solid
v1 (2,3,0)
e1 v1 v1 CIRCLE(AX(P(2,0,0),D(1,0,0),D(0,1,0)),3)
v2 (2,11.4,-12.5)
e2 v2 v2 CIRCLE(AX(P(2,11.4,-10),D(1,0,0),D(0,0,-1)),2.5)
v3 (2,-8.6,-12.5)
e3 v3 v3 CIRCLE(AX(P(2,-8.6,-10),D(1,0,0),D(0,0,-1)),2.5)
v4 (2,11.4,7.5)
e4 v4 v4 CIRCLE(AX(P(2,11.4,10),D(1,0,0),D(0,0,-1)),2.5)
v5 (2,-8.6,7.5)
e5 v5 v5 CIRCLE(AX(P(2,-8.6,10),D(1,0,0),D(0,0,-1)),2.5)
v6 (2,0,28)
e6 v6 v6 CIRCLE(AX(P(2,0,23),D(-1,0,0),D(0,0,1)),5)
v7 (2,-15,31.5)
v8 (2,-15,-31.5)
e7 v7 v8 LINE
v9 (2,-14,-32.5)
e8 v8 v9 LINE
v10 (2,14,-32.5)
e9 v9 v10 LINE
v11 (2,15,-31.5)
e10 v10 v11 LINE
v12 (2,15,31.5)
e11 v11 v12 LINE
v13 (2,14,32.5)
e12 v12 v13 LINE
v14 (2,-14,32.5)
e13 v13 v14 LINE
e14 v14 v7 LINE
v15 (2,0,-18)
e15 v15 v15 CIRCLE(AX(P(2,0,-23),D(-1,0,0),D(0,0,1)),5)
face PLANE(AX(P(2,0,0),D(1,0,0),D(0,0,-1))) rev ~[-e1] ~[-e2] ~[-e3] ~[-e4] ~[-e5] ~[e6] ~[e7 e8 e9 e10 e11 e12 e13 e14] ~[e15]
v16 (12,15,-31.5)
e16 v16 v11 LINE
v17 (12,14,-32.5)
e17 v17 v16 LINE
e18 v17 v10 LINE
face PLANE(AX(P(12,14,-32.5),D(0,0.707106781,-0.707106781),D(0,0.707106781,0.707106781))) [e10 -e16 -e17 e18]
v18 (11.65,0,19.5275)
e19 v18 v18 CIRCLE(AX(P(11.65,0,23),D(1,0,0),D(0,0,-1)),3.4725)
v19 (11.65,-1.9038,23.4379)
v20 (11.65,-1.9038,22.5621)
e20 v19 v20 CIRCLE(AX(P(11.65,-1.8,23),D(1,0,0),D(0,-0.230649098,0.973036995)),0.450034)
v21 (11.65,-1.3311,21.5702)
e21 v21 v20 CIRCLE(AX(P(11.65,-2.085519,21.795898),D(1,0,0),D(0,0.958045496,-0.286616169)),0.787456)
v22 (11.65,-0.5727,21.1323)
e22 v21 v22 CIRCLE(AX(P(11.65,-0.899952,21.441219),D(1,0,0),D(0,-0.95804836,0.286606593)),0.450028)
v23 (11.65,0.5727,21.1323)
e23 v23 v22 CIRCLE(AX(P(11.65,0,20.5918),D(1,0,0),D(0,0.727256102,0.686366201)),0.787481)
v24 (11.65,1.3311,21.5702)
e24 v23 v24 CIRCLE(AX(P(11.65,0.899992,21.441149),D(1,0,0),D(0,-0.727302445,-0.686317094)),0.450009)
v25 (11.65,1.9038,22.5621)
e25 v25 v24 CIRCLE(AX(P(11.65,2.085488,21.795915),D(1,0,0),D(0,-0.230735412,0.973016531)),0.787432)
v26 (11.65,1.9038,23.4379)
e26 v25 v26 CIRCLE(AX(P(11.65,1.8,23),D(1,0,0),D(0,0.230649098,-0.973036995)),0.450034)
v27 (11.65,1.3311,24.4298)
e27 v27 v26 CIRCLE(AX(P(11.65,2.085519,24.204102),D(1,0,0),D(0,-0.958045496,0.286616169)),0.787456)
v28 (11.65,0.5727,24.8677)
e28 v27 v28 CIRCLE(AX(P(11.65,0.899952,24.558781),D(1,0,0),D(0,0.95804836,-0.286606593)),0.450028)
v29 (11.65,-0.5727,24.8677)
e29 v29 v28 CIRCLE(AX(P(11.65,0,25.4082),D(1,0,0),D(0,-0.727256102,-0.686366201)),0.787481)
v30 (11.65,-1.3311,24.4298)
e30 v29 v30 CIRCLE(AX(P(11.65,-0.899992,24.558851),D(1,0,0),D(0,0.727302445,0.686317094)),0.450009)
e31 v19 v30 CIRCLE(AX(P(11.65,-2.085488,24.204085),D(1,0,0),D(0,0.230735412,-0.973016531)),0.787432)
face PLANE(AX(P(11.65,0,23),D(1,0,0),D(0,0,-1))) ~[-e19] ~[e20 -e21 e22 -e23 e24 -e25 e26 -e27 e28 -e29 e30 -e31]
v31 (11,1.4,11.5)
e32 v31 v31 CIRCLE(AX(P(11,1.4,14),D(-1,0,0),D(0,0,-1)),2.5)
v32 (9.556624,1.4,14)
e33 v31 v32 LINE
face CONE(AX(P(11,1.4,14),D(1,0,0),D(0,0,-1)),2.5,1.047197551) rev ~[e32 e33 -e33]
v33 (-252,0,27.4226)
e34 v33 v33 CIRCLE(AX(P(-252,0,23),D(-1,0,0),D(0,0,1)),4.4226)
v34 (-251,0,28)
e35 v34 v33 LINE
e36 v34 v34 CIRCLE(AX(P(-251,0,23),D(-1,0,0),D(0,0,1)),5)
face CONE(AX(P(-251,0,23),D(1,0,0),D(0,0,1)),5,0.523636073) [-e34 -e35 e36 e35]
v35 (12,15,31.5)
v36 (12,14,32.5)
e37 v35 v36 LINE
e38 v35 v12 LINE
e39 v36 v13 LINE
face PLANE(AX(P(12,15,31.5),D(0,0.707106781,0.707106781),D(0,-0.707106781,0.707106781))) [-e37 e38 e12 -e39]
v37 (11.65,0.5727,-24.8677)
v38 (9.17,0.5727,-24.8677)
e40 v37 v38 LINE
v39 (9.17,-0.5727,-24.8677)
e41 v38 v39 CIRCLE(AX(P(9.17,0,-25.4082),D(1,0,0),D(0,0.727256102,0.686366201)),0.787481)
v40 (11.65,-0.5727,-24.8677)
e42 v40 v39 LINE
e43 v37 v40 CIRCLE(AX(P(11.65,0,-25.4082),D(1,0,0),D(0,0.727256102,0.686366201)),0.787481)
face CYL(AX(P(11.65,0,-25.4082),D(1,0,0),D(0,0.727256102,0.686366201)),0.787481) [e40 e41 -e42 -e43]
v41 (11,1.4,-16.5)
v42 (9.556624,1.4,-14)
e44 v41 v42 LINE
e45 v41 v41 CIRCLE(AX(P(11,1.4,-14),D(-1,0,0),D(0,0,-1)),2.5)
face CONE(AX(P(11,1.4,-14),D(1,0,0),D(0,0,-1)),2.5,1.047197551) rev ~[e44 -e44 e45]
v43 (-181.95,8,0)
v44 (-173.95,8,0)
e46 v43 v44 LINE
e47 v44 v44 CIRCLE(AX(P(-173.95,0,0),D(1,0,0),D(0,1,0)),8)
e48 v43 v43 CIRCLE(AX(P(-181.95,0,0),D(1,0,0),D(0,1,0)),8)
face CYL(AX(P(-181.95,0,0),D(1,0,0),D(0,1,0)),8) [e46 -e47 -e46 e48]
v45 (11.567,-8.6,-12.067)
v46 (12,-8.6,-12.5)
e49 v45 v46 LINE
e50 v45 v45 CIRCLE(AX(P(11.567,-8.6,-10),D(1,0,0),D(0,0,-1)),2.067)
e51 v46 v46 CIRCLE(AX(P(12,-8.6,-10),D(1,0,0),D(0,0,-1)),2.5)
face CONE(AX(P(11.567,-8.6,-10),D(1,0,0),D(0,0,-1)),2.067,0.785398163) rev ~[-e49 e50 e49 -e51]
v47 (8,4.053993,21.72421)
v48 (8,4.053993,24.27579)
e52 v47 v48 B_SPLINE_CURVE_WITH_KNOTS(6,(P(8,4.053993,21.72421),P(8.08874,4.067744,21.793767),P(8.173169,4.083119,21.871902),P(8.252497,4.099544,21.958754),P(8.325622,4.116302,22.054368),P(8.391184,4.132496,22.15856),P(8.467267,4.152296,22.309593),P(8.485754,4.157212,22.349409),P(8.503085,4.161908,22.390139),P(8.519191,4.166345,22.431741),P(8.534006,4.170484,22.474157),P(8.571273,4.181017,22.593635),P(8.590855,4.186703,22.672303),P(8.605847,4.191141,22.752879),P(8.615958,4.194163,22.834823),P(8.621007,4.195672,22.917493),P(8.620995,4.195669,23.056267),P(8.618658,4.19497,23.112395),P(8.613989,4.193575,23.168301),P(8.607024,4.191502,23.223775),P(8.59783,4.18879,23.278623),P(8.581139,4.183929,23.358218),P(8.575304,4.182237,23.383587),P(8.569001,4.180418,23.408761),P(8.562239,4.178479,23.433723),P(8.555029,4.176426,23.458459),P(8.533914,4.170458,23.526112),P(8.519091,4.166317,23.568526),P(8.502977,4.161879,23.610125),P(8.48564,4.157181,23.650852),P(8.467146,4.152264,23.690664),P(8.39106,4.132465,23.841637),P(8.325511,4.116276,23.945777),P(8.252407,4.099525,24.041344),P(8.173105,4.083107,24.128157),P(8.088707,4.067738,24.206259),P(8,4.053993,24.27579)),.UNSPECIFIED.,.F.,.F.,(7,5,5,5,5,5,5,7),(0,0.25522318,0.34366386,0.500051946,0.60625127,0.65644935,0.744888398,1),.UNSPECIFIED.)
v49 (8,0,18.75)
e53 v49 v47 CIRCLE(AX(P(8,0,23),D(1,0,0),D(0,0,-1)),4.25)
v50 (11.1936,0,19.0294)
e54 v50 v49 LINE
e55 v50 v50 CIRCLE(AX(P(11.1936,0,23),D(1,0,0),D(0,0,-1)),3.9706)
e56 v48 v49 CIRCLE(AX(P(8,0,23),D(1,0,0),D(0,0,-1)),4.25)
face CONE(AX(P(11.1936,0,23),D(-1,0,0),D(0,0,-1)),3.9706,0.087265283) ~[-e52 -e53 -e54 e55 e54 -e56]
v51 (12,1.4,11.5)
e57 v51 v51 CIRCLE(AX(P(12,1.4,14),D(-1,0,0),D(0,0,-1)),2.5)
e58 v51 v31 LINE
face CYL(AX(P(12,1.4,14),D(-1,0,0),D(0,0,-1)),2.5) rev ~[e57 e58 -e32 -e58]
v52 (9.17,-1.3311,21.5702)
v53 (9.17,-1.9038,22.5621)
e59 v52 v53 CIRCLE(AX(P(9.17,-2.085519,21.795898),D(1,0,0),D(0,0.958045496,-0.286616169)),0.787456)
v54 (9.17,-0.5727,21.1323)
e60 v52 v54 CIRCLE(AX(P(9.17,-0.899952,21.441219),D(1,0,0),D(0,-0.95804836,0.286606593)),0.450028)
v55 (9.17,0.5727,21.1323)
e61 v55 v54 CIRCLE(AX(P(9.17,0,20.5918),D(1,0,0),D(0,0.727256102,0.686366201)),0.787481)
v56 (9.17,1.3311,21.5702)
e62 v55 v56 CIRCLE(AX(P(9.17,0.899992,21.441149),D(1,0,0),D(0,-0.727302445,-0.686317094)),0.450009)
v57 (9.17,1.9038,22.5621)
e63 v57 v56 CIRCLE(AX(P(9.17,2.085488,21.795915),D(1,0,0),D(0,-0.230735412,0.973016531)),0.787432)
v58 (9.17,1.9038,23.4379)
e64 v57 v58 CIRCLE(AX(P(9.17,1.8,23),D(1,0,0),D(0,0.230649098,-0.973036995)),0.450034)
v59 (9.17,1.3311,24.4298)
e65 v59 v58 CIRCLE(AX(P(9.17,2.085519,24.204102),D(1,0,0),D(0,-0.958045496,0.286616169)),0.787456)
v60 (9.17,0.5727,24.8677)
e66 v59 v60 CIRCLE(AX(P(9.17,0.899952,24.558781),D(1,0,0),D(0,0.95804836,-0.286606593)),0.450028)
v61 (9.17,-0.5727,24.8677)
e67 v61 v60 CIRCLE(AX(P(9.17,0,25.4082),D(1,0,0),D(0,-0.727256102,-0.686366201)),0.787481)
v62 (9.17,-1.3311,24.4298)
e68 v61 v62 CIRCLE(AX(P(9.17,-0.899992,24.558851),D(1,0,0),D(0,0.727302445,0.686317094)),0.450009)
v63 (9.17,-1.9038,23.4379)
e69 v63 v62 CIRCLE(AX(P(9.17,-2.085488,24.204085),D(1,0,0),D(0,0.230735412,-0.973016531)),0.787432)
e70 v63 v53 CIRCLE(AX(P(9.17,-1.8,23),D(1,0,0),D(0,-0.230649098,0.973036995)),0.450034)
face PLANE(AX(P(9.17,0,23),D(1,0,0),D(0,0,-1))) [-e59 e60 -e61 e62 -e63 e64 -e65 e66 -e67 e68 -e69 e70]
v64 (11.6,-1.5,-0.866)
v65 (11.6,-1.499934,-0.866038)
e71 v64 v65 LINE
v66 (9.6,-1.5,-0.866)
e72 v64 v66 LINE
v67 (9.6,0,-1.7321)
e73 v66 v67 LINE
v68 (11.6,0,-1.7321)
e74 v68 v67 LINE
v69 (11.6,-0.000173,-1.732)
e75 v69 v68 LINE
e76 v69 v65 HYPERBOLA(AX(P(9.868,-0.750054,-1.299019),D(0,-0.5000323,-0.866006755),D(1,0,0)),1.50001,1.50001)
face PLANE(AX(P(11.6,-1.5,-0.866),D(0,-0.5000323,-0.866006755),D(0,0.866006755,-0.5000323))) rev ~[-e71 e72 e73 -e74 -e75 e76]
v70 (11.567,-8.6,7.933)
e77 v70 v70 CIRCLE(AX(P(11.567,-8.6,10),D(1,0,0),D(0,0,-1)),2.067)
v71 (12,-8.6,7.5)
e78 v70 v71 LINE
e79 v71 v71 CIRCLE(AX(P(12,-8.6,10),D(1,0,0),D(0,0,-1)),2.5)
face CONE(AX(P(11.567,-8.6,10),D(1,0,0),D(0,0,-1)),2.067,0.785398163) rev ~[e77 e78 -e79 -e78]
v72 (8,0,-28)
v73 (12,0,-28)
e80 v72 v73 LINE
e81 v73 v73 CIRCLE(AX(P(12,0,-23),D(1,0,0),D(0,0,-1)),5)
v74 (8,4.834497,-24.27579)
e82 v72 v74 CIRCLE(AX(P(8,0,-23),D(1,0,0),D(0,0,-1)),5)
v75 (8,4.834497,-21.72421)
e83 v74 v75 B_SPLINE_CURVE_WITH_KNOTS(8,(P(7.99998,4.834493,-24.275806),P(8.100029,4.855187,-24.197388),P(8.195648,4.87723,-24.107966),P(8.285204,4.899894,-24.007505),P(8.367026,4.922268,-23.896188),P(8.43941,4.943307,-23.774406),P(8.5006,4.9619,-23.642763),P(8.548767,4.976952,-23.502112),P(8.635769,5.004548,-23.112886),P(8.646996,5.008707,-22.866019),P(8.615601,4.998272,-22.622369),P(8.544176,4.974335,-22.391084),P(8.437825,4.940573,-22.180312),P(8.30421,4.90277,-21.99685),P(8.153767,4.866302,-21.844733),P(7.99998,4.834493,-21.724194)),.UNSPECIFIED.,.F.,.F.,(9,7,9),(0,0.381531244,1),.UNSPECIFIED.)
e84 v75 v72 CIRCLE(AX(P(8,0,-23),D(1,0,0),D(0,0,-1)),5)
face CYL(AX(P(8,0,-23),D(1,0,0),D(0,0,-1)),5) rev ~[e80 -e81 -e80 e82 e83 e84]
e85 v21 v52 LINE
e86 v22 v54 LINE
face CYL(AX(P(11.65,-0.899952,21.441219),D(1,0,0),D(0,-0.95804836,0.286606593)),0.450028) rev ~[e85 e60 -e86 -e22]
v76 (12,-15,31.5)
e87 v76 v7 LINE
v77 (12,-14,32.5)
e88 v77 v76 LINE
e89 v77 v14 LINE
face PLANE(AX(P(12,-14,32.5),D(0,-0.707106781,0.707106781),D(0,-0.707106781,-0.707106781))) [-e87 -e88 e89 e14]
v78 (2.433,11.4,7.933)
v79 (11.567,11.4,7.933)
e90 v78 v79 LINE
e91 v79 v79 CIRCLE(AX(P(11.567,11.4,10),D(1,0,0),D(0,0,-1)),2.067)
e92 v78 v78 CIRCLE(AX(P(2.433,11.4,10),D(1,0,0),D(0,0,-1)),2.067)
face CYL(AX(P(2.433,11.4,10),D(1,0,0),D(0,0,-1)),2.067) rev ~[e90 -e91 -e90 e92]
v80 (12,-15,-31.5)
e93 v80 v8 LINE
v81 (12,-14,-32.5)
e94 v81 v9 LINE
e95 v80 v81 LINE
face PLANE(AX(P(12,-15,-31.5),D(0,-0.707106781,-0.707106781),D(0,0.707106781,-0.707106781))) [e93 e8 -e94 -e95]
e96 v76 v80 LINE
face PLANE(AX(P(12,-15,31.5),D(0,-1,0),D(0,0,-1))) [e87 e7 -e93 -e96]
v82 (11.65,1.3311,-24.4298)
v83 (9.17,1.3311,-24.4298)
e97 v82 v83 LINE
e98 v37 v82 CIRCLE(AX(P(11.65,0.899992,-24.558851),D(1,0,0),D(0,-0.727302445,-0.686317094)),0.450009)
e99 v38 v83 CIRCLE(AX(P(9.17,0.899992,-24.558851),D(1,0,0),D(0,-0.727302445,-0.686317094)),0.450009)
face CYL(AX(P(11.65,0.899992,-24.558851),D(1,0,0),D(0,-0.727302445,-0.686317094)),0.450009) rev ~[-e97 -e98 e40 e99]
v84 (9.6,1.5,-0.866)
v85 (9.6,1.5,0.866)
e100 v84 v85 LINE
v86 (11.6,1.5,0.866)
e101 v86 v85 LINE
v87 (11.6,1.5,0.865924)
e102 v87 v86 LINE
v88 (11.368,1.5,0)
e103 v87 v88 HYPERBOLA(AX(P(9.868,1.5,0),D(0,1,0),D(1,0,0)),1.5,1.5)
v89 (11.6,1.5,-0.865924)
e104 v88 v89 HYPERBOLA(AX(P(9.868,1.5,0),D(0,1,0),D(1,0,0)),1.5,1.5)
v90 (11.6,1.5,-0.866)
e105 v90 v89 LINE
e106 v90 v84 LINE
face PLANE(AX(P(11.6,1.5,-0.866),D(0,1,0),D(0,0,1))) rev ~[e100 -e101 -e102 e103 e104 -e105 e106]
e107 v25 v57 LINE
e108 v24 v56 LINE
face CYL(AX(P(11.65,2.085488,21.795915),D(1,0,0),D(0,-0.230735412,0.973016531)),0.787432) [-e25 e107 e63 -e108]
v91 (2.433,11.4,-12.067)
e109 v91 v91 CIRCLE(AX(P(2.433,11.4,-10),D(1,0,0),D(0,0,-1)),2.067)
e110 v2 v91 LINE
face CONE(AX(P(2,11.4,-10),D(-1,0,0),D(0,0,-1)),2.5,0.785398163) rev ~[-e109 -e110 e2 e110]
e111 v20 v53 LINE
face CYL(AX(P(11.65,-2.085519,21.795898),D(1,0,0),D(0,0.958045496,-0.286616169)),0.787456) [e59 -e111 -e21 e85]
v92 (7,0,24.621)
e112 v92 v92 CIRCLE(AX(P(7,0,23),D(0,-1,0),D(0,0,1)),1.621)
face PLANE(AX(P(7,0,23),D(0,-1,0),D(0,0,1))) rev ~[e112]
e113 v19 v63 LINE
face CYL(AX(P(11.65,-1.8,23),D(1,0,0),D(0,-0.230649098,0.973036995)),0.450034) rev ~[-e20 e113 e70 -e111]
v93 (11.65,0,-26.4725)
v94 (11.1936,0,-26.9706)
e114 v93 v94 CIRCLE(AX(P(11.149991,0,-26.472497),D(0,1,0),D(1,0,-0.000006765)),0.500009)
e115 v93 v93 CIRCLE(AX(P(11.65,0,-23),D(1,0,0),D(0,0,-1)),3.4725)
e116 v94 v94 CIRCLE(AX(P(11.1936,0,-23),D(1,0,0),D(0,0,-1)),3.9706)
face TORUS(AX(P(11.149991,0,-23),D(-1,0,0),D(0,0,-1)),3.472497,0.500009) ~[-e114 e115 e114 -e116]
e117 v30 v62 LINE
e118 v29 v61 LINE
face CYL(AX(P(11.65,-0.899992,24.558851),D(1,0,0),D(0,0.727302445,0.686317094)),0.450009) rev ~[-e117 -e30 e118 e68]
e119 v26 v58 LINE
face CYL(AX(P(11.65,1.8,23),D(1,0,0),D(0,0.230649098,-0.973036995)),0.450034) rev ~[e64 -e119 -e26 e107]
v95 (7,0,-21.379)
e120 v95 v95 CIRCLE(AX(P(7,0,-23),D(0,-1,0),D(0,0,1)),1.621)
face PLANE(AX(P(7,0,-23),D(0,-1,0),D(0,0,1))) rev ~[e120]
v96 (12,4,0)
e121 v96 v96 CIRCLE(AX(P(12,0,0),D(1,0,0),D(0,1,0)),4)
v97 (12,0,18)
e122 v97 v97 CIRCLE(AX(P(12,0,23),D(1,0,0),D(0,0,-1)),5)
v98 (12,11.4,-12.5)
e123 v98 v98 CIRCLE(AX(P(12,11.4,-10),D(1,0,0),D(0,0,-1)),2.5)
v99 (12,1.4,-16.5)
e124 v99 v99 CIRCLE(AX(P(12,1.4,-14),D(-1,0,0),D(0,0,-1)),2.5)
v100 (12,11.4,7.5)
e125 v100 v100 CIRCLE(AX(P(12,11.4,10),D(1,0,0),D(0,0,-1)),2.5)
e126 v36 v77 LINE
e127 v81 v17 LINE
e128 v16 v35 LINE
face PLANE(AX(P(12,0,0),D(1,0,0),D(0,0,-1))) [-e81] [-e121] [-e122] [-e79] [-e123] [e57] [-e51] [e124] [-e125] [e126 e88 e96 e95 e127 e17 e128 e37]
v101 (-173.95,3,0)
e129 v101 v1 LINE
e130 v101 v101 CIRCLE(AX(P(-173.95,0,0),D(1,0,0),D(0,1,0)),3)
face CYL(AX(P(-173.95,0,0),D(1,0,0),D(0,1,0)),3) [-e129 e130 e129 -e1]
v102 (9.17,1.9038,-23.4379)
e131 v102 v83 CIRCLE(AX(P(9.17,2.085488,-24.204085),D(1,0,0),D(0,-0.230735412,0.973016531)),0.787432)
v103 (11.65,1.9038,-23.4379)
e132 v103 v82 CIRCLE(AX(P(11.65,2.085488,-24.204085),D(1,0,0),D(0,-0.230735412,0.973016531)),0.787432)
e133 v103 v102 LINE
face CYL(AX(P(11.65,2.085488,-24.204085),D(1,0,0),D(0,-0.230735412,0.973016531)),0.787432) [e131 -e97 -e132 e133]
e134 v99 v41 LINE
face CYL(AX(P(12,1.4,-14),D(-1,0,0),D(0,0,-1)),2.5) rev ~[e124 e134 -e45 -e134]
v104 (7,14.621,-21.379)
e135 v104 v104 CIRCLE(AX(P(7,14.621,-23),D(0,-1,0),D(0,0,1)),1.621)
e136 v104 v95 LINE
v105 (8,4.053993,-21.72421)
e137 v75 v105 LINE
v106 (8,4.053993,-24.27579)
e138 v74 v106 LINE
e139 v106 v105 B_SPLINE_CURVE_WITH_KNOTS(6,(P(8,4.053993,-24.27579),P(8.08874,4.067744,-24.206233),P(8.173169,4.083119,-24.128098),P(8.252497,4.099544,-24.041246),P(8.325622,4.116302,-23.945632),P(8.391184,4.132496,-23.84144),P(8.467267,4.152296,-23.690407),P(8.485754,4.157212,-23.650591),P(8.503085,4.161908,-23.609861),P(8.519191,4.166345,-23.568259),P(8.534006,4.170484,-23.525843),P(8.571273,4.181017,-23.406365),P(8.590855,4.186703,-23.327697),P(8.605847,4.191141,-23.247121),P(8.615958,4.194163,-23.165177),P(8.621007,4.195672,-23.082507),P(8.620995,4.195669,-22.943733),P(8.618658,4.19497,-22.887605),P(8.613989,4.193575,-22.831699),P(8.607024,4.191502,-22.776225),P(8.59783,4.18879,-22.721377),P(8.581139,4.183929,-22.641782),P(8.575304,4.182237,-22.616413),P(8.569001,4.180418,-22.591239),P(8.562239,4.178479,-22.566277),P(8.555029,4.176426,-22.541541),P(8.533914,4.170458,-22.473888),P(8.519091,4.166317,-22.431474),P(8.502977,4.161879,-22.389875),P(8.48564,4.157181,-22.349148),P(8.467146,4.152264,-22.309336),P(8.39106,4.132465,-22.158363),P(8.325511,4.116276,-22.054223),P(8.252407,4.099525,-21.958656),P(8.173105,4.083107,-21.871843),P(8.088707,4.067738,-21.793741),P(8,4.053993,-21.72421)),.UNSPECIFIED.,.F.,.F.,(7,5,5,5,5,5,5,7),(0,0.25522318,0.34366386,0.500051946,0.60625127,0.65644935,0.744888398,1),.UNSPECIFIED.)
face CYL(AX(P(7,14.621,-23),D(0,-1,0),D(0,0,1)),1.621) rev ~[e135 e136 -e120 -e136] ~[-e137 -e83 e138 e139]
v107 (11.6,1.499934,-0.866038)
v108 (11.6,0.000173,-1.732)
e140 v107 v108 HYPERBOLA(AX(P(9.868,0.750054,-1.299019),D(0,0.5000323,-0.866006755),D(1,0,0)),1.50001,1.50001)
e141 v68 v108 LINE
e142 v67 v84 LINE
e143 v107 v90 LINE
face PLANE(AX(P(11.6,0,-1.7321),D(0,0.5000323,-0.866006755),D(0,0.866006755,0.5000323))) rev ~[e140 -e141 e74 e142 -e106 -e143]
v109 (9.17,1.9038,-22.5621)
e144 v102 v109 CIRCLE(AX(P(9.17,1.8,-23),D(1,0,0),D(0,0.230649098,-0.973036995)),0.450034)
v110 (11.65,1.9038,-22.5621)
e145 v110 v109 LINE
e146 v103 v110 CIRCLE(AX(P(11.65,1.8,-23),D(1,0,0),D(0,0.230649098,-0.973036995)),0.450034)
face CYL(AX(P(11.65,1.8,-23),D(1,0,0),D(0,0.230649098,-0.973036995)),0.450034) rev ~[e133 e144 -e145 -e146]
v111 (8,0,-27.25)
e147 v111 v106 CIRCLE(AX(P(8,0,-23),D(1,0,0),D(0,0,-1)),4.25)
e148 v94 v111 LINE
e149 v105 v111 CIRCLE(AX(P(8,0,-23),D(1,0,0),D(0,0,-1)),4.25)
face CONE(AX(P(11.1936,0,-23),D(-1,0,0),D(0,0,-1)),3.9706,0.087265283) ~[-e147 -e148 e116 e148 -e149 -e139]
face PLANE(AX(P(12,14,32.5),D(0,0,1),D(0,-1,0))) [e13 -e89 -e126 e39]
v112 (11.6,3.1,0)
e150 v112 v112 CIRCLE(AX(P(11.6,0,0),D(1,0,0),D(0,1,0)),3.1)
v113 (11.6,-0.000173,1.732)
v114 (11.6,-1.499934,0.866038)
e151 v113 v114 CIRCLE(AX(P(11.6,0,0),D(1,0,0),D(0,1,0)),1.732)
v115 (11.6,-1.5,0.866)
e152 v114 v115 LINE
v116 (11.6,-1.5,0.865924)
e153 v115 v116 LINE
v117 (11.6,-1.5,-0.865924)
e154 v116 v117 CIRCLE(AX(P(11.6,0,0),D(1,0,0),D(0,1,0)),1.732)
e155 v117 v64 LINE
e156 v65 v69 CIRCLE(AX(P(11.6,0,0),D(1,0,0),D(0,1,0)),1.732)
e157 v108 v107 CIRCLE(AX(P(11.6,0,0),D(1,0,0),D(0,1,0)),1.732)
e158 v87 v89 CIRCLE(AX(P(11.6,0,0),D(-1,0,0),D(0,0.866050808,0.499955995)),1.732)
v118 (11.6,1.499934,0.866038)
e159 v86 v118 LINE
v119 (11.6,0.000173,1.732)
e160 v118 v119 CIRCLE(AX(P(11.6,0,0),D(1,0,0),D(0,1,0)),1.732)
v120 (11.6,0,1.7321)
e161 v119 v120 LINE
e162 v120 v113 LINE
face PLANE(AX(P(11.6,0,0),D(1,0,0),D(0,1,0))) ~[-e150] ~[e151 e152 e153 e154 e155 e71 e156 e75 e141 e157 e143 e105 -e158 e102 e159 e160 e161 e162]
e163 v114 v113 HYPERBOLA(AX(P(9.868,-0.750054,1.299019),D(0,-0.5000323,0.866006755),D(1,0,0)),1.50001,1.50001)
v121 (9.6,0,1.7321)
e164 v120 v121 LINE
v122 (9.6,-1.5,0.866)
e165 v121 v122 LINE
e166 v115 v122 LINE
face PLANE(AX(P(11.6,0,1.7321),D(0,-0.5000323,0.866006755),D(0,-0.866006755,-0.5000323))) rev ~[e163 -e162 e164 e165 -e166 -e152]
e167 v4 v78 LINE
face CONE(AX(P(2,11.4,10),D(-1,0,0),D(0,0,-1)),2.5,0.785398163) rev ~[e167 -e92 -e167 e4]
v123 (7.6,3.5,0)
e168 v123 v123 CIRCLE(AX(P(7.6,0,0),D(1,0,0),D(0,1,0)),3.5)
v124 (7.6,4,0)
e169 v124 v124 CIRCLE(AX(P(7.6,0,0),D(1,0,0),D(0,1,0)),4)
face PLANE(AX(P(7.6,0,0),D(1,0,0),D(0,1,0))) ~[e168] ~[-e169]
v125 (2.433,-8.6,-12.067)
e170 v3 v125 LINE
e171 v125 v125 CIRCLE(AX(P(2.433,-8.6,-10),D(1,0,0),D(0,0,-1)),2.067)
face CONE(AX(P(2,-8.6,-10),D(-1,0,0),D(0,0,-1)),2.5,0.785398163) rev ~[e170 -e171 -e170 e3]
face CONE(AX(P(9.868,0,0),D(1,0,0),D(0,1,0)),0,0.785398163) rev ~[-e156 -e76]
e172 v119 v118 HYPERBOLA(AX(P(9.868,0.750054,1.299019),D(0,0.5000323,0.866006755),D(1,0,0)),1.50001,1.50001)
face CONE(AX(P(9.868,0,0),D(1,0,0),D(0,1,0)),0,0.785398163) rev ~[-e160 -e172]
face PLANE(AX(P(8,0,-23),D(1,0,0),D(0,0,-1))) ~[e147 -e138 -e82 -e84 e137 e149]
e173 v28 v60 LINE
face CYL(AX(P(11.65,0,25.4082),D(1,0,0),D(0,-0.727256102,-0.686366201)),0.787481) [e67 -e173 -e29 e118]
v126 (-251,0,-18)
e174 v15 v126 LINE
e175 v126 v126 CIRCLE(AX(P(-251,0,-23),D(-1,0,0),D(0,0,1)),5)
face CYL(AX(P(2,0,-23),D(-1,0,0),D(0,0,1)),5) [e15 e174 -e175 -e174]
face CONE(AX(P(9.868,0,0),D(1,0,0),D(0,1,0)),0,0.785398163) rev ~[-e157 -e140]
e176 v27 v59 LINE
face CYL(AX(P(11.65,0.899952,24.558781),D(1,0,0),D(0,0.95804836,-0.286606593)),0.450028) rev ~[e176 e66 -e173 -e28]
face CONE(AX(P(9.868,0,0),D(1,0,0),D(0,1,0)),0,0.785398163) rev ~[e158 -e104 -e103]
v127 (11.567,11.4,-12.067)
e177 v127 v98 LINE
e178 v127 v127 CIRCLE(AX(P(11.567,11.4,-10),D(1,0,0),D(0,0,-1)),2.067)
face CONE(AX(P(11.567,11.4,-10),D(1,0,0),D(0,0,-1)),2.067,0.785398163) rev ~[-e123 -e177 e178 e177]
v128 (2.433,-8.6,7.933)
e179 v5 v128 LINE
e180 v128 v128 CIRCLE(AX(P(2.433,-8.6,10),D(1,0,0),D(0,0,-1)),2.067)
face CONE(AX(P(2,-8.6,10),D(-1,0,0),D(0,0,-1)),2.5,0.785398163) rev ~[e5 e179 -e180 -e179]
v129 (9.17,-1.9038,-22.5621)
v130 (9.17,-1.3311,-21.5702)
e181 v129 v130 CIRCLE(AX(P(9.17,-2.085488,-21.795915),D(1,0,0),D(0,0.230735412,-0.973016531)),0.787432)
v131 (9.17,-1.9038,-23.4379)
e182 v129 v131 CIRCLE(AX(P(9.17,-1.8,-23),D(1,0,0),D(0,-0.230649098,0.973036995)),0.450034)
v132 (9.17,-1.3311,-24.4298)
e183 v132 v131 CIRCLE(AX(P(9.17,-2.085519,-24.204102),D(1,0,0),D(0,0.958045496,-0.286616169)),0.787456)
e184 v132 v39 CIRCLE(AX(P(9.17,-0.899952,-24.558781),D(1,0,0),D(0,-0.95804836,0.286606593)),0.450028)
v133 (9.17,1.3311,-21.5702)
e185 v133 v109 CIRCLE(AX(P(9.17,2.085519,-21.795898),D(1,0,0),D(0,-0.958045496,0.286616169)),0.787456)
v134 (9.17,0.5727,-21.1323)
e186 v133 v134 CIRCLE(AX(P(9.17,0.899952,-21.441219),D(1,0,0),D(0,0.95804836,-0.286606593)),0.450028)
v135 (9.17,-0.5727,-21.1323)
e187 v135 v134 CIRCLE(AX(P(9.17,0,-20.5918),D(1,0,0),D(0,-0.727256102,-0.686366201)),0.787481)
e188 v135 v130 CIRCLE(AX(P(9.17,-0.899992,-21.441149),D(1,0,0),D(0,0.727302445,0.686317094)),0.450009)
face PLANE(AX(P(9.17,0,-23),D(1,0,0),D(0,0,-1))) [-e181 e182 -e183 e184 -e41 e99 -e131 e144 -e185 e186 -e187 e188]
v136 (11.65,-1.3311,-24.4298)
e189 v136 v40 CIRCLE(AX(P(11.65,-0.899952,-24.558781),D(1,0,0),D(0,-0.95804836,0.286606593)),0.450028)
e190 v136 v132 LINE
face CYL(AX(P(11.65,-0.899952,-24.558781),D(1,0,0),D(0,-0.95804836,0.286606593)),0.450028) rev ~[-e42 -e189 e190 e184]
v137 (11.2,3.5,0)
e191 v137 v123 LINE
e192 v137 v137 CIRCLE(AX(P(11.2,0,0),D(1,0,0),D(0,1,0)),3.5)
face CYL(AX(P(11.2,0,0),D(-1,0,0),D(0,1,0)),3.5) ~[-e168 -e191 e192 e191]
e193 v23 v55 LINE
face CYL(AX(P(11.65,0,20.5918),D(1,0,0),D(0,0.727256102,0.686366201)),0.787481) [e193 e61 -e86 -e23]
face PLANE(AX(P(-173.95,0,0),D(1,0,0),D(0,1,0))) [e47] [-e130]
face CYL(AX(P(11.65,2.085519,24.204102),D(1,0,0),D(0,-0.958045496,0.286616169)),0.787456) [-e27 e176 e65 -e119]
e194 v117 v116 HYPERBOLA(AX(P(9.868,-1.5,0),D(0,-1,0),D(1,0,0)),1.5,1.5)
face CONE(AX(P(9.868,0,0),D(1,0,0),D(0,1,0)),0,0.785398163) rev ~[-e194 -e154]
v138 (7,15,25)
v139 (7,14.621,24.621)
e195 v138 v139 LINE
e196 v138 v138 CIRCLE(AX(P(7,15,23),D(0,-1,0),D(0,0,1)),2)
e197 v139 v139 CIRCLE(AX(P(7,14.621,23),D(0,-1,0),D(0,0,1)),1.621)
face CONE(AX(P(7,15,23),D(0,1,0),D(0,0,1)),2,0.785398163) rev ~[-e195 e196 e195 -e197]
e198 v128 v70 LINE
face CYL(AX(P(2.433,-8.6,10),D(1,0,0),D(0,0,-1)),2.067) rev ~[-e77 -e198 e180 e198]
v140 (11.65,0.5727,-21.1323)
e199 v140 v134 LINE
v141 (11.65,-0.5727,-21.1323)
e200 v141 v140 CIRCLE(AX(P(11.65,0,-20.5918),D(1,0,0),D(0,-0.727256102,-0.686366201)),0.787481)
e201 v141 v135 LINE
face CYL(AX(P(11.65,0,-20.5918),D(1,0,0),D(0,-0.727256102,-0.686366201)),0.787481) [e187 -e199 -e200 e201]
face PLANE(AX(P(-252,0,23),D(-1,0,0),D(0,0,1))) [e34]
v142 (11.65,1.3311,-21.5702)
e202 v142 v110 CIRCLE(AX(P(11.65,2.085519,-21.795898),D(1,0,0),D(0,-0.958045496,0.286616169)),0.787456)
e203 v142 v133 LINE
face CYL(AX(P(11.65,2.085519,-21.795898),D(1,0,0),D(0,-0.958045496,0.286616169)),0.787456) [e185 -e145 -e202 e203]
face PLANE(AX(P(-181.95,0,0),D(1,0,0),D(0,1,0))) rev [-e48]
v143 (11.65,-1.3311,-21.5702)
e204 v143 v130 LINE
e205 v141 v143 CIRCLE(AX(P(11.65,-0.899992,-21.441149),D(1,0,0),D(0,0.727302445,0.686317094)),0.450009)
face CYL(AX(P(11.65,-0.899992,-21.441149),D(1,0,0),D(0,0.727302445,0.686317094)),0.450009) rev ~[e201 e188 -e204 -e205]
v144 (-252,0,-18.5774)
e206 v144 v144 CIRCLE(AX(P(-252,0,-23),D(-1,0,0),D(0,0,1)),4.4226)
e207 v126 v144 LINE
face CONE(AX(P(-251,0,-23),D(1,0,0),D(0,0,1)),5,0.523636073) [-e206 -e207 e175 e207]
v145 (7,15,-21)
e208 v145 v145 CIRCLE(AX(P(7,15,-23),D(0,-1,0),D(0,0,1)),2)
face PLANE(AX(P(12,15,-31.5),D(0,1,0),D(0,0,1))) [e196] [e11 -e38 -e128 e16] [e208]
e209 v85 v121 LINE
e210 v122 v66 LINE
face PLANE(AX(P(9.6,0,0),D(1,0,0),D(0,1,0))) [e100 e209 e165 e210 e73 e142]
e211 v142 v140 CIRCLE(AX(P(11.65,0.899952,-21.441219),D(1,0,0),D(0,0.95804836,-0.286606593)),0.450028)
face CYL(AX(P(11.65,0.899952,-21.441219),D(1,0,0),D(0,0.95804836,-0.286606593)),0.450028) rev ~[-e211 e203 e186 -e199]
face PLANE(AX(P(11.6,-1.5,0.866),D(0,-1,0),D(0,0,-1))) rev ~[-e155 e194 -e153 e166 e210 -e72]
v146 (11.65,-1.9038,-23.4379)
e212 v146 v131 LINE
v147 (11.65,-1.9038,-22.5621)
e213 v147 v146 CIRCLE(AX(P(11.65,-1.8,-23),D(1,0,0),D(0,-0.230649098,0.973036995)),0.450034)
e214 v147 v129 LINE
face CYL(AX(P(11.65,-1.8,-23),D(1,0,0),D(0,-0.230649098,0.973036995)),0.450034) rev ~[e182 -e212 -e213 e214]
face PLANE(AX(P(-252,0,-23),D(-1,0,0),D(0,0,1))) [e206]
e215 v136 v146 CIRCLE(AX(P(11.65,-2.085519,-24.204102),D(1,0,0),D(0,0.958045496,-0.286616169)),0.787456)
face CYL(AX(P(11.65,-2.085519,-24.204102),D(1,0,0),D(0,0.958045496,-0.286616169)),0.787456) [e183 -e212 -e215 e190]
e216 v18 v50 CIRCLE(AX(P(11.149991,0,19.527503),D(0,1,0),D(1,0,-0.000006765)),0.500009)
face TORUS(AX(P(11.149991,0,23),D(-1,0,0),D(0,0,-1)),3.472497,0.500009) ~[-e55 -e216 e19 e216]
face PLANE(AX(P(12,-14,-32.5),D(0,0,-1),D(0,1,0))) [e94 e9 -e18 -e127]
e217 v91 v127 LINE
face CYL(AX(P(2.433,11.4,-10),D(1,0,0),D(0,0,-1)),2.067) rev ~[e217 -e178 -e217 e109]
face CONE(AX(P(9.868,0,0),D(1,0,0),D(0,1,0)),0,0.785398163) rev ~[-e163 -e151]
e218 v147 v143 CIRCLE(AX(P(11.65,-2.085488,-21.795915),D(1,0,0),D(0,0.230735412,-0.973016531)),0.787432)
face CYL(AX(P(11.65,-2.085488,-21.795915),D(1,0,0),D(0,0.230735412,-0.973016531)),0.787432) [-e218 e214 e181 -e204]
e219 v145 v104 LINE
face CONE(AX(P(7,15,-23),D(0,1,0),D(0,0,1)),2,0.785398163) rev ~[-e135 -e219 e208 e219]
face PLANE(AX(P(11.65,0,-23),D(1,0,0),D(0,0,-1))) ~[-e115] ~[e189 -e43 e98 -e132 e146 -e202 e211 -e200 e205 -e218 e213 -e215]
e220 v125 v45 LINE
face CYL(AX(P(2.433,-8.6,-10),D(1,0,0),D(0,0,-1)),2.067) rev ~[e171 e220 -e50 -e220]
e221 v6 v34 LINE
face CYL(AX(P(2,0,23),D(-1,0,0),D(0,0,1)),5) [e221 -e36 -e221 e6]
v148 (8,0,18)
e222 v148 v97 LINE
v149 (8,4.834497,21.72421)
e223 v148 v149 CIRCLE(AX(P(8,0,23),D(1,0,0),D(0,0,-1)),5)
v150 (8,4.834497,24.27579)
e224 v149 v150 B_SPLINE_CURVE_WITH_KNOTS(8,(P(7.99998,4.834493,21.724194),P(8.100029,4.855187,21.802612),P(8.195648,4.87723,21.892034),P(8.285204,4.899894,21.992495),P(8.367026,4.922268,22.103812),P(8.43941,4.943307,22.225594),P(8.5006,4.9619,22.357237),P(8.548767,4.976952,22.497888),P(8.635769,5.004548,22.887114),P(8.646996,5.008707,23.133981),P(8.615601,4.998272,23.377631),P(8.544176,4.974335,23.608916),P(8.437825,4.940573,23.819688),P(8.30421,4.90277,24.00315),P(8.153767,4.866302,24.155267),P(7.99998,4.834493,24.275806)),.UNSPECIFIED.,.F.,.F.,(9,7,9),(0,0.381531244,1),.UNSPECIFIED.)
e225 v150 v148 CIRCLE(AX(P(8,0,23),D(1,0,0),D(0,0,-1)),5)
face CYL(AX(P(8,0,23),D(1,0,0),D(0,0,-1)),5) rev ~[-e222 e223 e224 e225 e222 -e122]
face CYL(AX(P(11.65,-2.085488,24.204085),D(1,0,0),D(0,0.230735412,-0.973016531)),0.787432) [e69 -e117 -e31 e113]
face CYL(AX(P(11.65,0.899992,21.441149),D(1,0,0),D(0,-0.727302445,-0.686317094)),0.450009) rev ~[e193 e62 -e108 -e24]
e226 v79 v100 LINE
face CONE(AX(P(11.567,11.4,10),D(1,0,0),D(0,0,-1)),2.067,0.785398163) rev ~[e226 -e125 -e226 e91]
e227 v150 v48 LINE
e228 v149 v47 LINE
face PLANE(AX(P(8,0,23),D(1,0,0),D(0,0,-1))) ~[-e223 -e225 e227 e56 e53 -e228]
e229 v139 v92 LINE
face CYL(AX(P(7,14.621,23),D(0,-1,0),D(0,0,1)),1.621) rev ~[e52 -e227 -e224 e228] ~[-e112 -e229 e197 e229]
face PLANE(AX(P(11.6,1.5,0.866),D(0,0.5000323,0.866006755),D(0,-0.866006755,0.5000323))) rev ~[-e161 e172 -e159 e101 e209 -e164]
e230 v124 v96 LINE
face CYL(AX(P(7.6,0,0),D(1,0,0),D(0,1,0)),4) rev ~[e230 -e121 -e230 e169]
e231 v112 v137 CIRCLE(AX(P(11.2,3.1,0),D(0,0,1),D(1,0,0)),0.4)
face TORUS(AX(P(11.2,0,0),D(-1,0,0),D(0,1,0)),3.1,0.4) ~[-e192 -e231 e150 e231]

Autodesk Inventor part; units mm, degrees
sketch "Skizze_1" plane through (12, 0, 0) normal (1, 0, 0) x (0, 0, -1)
  line L0 (-32.5, -14) -> (-31.5, -15)
  line L1 (-31.5, -15) -> (31.5, -15)
  line L2 (31.5, -15) -> (32.5, -14)
  line L3 (32.5, -14) -> (32.5, 14)
  line L4 (32.5, 14) -> (31.5, 15)
  line L5 (31.5, 15) -> (-31.5, 15)
  line L6 (-31.5, 15) -> (-32.5, 14)
  line L7 (-32.5, 14) -> (-32.5, -14)
extrude "Extrusion1" add sketch "Skizze_1" against normal blind 10
sketch "Skizze_2" plane through (0, 0, 0) normal (0, 1, 0) x (1, 0, 0)
  line L0 (-252, -23) -> (2, -23)
  line L1 (2, -23) -> (2, -28)
  line L2 (2, -28) -> (-251, -28)
  line L3 (-251, -28) -> (-252, -27.4226)
  line L4 (-252, -27.4226) -> (-252, -23)
  line L5 (-252, -23) -> (2, -23)
sketch "Skizze_3" plane through (0, 0, 0) normal (0, 1, 0) x (1, 0, 0)
  line L0 (-252, 23) -> (2, 23)
  line L1 (2, 23) -> (2, 18)
  line L2 (2, 18) -> (-251, 18)
  line L3 (-251, 18) -> (-252, 18.5774)
  line L4 (-252, 18.5774) -> (-252, 23)
  line L5 (-252, 23) -> (2, 23)
sketch "Skizze_4" plane through (0, -8.6, 0) normal (0, 1, 0) x (1, 0, 0)
  line L0 (12, -10) -> (2, -10)
  line L1 (2, -10) -> (2, -7.5)
  line L2 (2, -7.5) -> (2.433, -7.933)
  line L3 (2.433, -7.933) -> (11.567, -7.933)
  line L4 (11.567, -7.933) -> (12, -7.5)
  line L5 (12, -7.5) -> (12, -10)
  line L6 (12, -10) -> (2, -10)
revolve "Revolution1" cut sketch "Skizze_4" angle 360 about axis through (12, -8.6, 10) along (1, 0, 0)
thread "Thread1" size "M5x0.8" class "6H" standard "ISO Metric profile" full length
sketch "Skizze_5" plane through (0, -8.6, 0) normal (0, 1, 0) x (1, 0, 0)
  line L0 (12, 10) -> (2, 10)
  line L1 (2, 10) -> (2, 12.5)
  line L2 (2, 12.5) -> (2.433, 12.067)
  line L3 (2.433, 12.067) -> (11.567, 12.067)
  line L4 (11.567, 12.067) -> (12, 12.5)
  line L5 (12, 12.5) -> (12, 10)
  line L6 (12, 10) -> (2, 10)
revolve "Revolution2" cut sketch "Skizze_5" angle 360 about axis through (12, -8.6, -10) along (1, 0, 0)
thread "Thread2" size "M5x0.8" class "6H" standard "ISO Metric profile" full length
sketch "Skizze_6" plane through (0, 11.4, 0) normal (0, 1, 0) x (1, 0, 0)
  line L0 (12, -10) -> (2, -10)
  line L1 (2, -10) -> (2, -7.5)
  line L2 (2, -7.5) -> (2.433, -7.933)
  line L3 (2.433, -7.933) -> (11.567, -7.933)
  line L4 (11.567, -7.933) -> (12, -7.5)
  line L5 (12, -7.5) -> (12, -10)
  line L6 (12, -10) -> (2, -10)
revolve "Revolution3" cut sketch "Skizze_6" angle 360 about axis through (12, 11.4, 10) along (1, 0, 0)
thread "Thread3" size "M5x0.8" class "6H" standard "ISO Metric profile" full length
sketch "Skizze_7" plane through (0, 11.4, 0) normal (0, 1, 0) x (1, 0, 0)
  line L0 (12, 10) -> (2, 10)
  line L1 (2, 10) -> (2, 12.5)
  line L2 (2, 12.5) -> (2.433, 12.067)
  line L3 (2.433, 12.067) -> (11.567, 12.067)
  line L4 (11.567, 12.067) -> (12, 12.5)
  line L5 (12, 12.5) -> (12, 10)
  line L6 (12, 10) -> (2, 10)
revolve "Revolution4" cut sketch "Skizze_7" angle 360 about axis through (12, 11.4, -10) along (1, 0, 0)
thread "Thread4" size "M5x0.8" class "6H" standard "ISO Metric profile" full length
sketch "Skizze_8" plane through (0, 0, 0) normal (0, 0, 1) x (1, 0, 0)
  line L0 (2, 0) -> (-181.95, 0)
  line L1 (-181.95, 0) -> (-181.95, 8)
  line L2 (-181.95, 8) -> (-173.95, 8)
  line L3 (-173.95, 8) -> (-173.95, 3)
  line L4 (-173.95, 3) -> (2, 3)
  line L5 (2, 3) -> (2, 0)
  line L6 (2, 0) -> (-181.95, 0)
revolve "Revolution5" add sketch "Skizze_8" angle 360 about axis through (2, 0, 0) along (1, 0, 0)
sketch "Sketch9" plane through (12, 15, 31.5) normal (0, 1, 0) x (1, 0, 0)
  point P0 (-5, 8.5)
hole "Hole1" at (7, 15, 23) direction (0, -1, 0) diameter 3.242 depth 15 countersink diameter 4 countersink angle 90 thread size "M4x0.7" class "6H" standard "ISO Metric profile"
sketch "Sketch10" plane through (12, 15, 31.5) normal (0, 1, 0) x (1, 0, 0)
  point P0 (-5, 54.5)
hole "Hole2" at (7, 15, -23) direction (0, -1, 0) diameter 3.242 depth 15 countersink diameter 4 countersink angle 90 thread size "M4x0.7" class "6H" standard "ISO Metric profile"
revolve "Revolution6" add sketch "Skizze_2" angle 360 about axis through (-252, 0, 23) along (-1, 0, 0)
revolve "Revolution7" add sketch "Skizze_3" angle 360 about axis through (-252, 0, -23) along (-1, 0, 0)
sketch "Sketch11" plane through (12, 0, 0) normal (1, 0, 0) x (0, 0, -1)
  point P0 (14, 1.4)
hole "Hole3" at (12, 1.4, -14) direction (-1, 0, 0) diameter 5 depth 1 tip angle 120
sketch "Sketch12" plane through (12, 0, 0) normal (1, 0, 0) x (0, 0, -1)
  point P0 (-14, 1.4)
hole "Hole4" at (12, 1.4, 14) direction (-1, 0, 0) diameter 5 depth 1 tip angle 120
sketch "Sketch_4" plane through (0, 0, 0) normal (0, 1, 0) x (1, 0, 0)
  line L0 (12, 23) -> (11.65, 23)
  line L1 (11.65, 23) -> (11.65, 26.4725)
  arc A0 (11.65, 26.4725) -> (11.1936, 26.9706) centre (11.15, 26.4725) ccw
  line L2 (11.1936, 26.9706) -> (8, 27.25)
  line L3 (8, 27.25) -> (8, 28)
  line L4 (8, 28) -> (12, 28)
  line L5 (12, 28) -> (12, 23)
  line L6 (12, 23) -> (11.65, 23)
revolve "Revolution8" cut sketch "Sketch_4" angle 360 about axis through (12, 0, -23) along (1, 0, 0)
sketch "Sketch_6" plane through (0, 0, 0) normal (0, 1, 0) x (1, 0, 0)
  line L0 (12, -23) -> (11.65, -23)
  line L1 (11.65, -23) -> (11.65, -19.5275)
  arc A0 (11.65, -19.5275) -> (11.1936, -19.0294) centre (11.15, -19.5275) ccw
  line L2 (11.1936, -19.0294) -> (8, -18.75)
  line L3 (8, -18.75) -> (8, -18)
  line L4 (8, -18) -> (12, -18)
  line L5 (12, -18) -> (12, -23)
  line L6 (12, -23) -> (11.65, -23)
revolve "Revolution9" cut sketch "Sketch_6" angle 360 about axis through (12, 0, 23) along (1, 0, 0)
sketch "Sketch_7" plane through (11.65, 0, 23) normal (1, 0, 0) x (0, 0, -1)
  arc A0 (-1.8677, -0.5727) -> (-1.4298, -1.3311) centre (-1.5588, -0.9) ccw
  arc A1 (-0.4379, -1.9038) -> (-1.4298, -1.3311) centre (-1.2041, -2.0855) ccw
  arc A2 (-0.4379, -1.9038) -> (0.4379, -1.9038) centre (0, -1.8) ccw
  arc A3 (1.4298, -1.3311) -> (0.4379, -1.9038) centre (1.2041, -2.0855) ccw
  arc A4 (1.4298, -1.3311) -> (1.8677, -0.5727) centre (1.5588, -0.9) ccw
  arc A5 (1.8677, 0.5727) -> (1.8677, -0.5727) centre (2.4082, 0) ccw
  arc A6 (1.8677, 0.5727) -> (1.4298, 1.3311) centre (1.5588, 0.9) ccw
  arc A7 (0.4379, 1.9038) -> (1.4298, 1.3311) centre (1.2041, 2.0855) ccw
  arc A8 (0.4379, 1.9038) -> (-0.4379, 1.9038) centre (0, 1.8) ccw
  arc A9 (-1.4298, 1.3311) -> (-0.4379, 1.9038) centre (-1.2041, 2.0855) ccw
  arc A10 (-1.4298, 1.3311) -> (-1.8677, 0.5727) centre (-1.5588, 0.9) ccw
  arc A11 (-1.8677, -0.5727) -> (-1.8677, 0.5727) centre (-2.4082, 0) ccw
extrude "Extrusion2" cut sketch "Sketch_7" against normal blind 2.48
sketch "Sketch_8" plane through (11.65, 0, -23) normal (1, 0, 0) x (0, 0, -1)
  arc A0 (-1.8677, -0.5727) -> (-1.4298, -1.3311) centre (-1.5588, -0.9) ccw
  arc A1 (-0.4379, -1.9038) -> (-1.4298, -1.3311) centre (-1.2041, -2.0855) ccw
  arc A2 (-0.4379, -1.9038) -> (0.4379, -1.9038) centre (0, -1.8) ccw
  arc A3 (1.4298, -1.3311) -> (0.4379, -1.9038) centre (1.2041, -2.0855) ccw
  arc A4 (1.4298, -1.3311) -> (1.8677, -0.5727) centre (1.5588, -0.9) ccw
  arc A5 (1.8677, 0.5727) -> (1.8677, -0.5727) centre (2.4082, 0) ccw
  arc A6 (1.8677, 0.5727) -> (1.4298, 1.3311) centre (1.5588, 0.9) ccw
  arc A7 (0.4379, 1.9038) -> (1.4298, 1.3311) centre (1.2041, 2.0855) ccw
  arc A8 (0.4379, 1.9038) -> (-0.4379, 1.9038) centre (0, 1.8) ccw
  arc A9 (-1.4298, 1.3311) -> (-0.4379, 1.9038) centre (-1.2041, 2.0855) ccw
  arc A10 (-1.4298, 1.3311) -> (-1.8677, 0.5727) centre (-1.5588, 0.9) ccw
  arc A11 (-1.8677, -0.5727) -> (-1.8677, 0.5727) centre (-2.4082, 0) ccw
extrude "Extrusion3" cut sketch "Sketch_8" against normal blind 2.48
sketch "Sketch_9" plane through (0, 0, 0) normal (0, 0, 1) x (1, 0, 0)
  line L0 (12, 0) -> (9.868, 0)
  line L1 (9.868, 0) -> (11.6, 1.732)
  line L2 (11.6, 1.732) -> (11.6, 3.1)
  arc A0 (11.6, 3.1) -> (11.2, 3.5) centre (11.2, 3.1) ccw
  line L3 (11.2, 3.5) -> (7.6, 3.5)
  line L4 (7.6, 3.5) -> (7.6, 4)
  line L5 (7.6, 4) -> (12, 4)
  line L6 (12, 4) -> (12, 0)
  line L7 (12, 0) -> (9.868, 0)
revolve "Revolution10" cut sketch "Sketch_9" angle 360 about axis through (12, 0, 0) along (1, 0, 0)
sketch "Sketch_10" plane through (11.6, 0, 0) normal (1, 0, 0) x (0, 1, 0)
  line L0 (-1.5, -0.866) -> (0, -1.7321)
  line L1 (0, -1.7321) -> (1.5, -0.866)
  line L2 (1.5, -0.866) -> (1.5, 0.866)
  line L3 (1.5, 0.866) -> (0, 1.7321)
  line L4 (0, 1.7321) -> (-1.5, 0.866)
  line L5 (-1.5, 0.866) -> (-1.5, -0.866)
extrude "Extrusion4" cut sketch "Sketch_10" against normal blind 2
ref_plane "HUELSE3_1_XY" through (11, 1.4, -14) normal (1, 0, 0) x (0, 0, -1)
ref_plane "HUELSE3_1_YZ" through (11, 1.4, -14) normal (0, 0, -1) x (0, 1, 0)
ref_plane "HUELSE3_1_ZX" through (11, 1.4, -14) normal (0, 1, 0) x (1, 0, 0)
ref_plane "HUELSE3_2_XY" through (11, 1.4, 14) normal (1, 0, 0) x (0, 0, -1)
ref_plane "HUELSE3_2_YZ" through (11, 1.4, 14) normal (0, 0, -1) x (0, 1, 0)
ref_plane "HUELSE3_2_ZX" through (11, 1.4, 14) normal (0, 1, 0) x (1, 0, 0)
ref_plane "kolben_dfm_XY" through (0, 0, 0) normal (-1, 0, 0) x (0, 0, -1)
ref_plane "kolben_dfm_YZ" through (0, 0, 0) normal (0, 0, -1) x (0, -1, 0)
ref_plane "kolben_dfm_ZX" through (0, 0, 0) normal (0, -1, 0) x (-1, 0, 0)
properties part number "529120 DFM-16-160-B-P-A-KF---(K)"
